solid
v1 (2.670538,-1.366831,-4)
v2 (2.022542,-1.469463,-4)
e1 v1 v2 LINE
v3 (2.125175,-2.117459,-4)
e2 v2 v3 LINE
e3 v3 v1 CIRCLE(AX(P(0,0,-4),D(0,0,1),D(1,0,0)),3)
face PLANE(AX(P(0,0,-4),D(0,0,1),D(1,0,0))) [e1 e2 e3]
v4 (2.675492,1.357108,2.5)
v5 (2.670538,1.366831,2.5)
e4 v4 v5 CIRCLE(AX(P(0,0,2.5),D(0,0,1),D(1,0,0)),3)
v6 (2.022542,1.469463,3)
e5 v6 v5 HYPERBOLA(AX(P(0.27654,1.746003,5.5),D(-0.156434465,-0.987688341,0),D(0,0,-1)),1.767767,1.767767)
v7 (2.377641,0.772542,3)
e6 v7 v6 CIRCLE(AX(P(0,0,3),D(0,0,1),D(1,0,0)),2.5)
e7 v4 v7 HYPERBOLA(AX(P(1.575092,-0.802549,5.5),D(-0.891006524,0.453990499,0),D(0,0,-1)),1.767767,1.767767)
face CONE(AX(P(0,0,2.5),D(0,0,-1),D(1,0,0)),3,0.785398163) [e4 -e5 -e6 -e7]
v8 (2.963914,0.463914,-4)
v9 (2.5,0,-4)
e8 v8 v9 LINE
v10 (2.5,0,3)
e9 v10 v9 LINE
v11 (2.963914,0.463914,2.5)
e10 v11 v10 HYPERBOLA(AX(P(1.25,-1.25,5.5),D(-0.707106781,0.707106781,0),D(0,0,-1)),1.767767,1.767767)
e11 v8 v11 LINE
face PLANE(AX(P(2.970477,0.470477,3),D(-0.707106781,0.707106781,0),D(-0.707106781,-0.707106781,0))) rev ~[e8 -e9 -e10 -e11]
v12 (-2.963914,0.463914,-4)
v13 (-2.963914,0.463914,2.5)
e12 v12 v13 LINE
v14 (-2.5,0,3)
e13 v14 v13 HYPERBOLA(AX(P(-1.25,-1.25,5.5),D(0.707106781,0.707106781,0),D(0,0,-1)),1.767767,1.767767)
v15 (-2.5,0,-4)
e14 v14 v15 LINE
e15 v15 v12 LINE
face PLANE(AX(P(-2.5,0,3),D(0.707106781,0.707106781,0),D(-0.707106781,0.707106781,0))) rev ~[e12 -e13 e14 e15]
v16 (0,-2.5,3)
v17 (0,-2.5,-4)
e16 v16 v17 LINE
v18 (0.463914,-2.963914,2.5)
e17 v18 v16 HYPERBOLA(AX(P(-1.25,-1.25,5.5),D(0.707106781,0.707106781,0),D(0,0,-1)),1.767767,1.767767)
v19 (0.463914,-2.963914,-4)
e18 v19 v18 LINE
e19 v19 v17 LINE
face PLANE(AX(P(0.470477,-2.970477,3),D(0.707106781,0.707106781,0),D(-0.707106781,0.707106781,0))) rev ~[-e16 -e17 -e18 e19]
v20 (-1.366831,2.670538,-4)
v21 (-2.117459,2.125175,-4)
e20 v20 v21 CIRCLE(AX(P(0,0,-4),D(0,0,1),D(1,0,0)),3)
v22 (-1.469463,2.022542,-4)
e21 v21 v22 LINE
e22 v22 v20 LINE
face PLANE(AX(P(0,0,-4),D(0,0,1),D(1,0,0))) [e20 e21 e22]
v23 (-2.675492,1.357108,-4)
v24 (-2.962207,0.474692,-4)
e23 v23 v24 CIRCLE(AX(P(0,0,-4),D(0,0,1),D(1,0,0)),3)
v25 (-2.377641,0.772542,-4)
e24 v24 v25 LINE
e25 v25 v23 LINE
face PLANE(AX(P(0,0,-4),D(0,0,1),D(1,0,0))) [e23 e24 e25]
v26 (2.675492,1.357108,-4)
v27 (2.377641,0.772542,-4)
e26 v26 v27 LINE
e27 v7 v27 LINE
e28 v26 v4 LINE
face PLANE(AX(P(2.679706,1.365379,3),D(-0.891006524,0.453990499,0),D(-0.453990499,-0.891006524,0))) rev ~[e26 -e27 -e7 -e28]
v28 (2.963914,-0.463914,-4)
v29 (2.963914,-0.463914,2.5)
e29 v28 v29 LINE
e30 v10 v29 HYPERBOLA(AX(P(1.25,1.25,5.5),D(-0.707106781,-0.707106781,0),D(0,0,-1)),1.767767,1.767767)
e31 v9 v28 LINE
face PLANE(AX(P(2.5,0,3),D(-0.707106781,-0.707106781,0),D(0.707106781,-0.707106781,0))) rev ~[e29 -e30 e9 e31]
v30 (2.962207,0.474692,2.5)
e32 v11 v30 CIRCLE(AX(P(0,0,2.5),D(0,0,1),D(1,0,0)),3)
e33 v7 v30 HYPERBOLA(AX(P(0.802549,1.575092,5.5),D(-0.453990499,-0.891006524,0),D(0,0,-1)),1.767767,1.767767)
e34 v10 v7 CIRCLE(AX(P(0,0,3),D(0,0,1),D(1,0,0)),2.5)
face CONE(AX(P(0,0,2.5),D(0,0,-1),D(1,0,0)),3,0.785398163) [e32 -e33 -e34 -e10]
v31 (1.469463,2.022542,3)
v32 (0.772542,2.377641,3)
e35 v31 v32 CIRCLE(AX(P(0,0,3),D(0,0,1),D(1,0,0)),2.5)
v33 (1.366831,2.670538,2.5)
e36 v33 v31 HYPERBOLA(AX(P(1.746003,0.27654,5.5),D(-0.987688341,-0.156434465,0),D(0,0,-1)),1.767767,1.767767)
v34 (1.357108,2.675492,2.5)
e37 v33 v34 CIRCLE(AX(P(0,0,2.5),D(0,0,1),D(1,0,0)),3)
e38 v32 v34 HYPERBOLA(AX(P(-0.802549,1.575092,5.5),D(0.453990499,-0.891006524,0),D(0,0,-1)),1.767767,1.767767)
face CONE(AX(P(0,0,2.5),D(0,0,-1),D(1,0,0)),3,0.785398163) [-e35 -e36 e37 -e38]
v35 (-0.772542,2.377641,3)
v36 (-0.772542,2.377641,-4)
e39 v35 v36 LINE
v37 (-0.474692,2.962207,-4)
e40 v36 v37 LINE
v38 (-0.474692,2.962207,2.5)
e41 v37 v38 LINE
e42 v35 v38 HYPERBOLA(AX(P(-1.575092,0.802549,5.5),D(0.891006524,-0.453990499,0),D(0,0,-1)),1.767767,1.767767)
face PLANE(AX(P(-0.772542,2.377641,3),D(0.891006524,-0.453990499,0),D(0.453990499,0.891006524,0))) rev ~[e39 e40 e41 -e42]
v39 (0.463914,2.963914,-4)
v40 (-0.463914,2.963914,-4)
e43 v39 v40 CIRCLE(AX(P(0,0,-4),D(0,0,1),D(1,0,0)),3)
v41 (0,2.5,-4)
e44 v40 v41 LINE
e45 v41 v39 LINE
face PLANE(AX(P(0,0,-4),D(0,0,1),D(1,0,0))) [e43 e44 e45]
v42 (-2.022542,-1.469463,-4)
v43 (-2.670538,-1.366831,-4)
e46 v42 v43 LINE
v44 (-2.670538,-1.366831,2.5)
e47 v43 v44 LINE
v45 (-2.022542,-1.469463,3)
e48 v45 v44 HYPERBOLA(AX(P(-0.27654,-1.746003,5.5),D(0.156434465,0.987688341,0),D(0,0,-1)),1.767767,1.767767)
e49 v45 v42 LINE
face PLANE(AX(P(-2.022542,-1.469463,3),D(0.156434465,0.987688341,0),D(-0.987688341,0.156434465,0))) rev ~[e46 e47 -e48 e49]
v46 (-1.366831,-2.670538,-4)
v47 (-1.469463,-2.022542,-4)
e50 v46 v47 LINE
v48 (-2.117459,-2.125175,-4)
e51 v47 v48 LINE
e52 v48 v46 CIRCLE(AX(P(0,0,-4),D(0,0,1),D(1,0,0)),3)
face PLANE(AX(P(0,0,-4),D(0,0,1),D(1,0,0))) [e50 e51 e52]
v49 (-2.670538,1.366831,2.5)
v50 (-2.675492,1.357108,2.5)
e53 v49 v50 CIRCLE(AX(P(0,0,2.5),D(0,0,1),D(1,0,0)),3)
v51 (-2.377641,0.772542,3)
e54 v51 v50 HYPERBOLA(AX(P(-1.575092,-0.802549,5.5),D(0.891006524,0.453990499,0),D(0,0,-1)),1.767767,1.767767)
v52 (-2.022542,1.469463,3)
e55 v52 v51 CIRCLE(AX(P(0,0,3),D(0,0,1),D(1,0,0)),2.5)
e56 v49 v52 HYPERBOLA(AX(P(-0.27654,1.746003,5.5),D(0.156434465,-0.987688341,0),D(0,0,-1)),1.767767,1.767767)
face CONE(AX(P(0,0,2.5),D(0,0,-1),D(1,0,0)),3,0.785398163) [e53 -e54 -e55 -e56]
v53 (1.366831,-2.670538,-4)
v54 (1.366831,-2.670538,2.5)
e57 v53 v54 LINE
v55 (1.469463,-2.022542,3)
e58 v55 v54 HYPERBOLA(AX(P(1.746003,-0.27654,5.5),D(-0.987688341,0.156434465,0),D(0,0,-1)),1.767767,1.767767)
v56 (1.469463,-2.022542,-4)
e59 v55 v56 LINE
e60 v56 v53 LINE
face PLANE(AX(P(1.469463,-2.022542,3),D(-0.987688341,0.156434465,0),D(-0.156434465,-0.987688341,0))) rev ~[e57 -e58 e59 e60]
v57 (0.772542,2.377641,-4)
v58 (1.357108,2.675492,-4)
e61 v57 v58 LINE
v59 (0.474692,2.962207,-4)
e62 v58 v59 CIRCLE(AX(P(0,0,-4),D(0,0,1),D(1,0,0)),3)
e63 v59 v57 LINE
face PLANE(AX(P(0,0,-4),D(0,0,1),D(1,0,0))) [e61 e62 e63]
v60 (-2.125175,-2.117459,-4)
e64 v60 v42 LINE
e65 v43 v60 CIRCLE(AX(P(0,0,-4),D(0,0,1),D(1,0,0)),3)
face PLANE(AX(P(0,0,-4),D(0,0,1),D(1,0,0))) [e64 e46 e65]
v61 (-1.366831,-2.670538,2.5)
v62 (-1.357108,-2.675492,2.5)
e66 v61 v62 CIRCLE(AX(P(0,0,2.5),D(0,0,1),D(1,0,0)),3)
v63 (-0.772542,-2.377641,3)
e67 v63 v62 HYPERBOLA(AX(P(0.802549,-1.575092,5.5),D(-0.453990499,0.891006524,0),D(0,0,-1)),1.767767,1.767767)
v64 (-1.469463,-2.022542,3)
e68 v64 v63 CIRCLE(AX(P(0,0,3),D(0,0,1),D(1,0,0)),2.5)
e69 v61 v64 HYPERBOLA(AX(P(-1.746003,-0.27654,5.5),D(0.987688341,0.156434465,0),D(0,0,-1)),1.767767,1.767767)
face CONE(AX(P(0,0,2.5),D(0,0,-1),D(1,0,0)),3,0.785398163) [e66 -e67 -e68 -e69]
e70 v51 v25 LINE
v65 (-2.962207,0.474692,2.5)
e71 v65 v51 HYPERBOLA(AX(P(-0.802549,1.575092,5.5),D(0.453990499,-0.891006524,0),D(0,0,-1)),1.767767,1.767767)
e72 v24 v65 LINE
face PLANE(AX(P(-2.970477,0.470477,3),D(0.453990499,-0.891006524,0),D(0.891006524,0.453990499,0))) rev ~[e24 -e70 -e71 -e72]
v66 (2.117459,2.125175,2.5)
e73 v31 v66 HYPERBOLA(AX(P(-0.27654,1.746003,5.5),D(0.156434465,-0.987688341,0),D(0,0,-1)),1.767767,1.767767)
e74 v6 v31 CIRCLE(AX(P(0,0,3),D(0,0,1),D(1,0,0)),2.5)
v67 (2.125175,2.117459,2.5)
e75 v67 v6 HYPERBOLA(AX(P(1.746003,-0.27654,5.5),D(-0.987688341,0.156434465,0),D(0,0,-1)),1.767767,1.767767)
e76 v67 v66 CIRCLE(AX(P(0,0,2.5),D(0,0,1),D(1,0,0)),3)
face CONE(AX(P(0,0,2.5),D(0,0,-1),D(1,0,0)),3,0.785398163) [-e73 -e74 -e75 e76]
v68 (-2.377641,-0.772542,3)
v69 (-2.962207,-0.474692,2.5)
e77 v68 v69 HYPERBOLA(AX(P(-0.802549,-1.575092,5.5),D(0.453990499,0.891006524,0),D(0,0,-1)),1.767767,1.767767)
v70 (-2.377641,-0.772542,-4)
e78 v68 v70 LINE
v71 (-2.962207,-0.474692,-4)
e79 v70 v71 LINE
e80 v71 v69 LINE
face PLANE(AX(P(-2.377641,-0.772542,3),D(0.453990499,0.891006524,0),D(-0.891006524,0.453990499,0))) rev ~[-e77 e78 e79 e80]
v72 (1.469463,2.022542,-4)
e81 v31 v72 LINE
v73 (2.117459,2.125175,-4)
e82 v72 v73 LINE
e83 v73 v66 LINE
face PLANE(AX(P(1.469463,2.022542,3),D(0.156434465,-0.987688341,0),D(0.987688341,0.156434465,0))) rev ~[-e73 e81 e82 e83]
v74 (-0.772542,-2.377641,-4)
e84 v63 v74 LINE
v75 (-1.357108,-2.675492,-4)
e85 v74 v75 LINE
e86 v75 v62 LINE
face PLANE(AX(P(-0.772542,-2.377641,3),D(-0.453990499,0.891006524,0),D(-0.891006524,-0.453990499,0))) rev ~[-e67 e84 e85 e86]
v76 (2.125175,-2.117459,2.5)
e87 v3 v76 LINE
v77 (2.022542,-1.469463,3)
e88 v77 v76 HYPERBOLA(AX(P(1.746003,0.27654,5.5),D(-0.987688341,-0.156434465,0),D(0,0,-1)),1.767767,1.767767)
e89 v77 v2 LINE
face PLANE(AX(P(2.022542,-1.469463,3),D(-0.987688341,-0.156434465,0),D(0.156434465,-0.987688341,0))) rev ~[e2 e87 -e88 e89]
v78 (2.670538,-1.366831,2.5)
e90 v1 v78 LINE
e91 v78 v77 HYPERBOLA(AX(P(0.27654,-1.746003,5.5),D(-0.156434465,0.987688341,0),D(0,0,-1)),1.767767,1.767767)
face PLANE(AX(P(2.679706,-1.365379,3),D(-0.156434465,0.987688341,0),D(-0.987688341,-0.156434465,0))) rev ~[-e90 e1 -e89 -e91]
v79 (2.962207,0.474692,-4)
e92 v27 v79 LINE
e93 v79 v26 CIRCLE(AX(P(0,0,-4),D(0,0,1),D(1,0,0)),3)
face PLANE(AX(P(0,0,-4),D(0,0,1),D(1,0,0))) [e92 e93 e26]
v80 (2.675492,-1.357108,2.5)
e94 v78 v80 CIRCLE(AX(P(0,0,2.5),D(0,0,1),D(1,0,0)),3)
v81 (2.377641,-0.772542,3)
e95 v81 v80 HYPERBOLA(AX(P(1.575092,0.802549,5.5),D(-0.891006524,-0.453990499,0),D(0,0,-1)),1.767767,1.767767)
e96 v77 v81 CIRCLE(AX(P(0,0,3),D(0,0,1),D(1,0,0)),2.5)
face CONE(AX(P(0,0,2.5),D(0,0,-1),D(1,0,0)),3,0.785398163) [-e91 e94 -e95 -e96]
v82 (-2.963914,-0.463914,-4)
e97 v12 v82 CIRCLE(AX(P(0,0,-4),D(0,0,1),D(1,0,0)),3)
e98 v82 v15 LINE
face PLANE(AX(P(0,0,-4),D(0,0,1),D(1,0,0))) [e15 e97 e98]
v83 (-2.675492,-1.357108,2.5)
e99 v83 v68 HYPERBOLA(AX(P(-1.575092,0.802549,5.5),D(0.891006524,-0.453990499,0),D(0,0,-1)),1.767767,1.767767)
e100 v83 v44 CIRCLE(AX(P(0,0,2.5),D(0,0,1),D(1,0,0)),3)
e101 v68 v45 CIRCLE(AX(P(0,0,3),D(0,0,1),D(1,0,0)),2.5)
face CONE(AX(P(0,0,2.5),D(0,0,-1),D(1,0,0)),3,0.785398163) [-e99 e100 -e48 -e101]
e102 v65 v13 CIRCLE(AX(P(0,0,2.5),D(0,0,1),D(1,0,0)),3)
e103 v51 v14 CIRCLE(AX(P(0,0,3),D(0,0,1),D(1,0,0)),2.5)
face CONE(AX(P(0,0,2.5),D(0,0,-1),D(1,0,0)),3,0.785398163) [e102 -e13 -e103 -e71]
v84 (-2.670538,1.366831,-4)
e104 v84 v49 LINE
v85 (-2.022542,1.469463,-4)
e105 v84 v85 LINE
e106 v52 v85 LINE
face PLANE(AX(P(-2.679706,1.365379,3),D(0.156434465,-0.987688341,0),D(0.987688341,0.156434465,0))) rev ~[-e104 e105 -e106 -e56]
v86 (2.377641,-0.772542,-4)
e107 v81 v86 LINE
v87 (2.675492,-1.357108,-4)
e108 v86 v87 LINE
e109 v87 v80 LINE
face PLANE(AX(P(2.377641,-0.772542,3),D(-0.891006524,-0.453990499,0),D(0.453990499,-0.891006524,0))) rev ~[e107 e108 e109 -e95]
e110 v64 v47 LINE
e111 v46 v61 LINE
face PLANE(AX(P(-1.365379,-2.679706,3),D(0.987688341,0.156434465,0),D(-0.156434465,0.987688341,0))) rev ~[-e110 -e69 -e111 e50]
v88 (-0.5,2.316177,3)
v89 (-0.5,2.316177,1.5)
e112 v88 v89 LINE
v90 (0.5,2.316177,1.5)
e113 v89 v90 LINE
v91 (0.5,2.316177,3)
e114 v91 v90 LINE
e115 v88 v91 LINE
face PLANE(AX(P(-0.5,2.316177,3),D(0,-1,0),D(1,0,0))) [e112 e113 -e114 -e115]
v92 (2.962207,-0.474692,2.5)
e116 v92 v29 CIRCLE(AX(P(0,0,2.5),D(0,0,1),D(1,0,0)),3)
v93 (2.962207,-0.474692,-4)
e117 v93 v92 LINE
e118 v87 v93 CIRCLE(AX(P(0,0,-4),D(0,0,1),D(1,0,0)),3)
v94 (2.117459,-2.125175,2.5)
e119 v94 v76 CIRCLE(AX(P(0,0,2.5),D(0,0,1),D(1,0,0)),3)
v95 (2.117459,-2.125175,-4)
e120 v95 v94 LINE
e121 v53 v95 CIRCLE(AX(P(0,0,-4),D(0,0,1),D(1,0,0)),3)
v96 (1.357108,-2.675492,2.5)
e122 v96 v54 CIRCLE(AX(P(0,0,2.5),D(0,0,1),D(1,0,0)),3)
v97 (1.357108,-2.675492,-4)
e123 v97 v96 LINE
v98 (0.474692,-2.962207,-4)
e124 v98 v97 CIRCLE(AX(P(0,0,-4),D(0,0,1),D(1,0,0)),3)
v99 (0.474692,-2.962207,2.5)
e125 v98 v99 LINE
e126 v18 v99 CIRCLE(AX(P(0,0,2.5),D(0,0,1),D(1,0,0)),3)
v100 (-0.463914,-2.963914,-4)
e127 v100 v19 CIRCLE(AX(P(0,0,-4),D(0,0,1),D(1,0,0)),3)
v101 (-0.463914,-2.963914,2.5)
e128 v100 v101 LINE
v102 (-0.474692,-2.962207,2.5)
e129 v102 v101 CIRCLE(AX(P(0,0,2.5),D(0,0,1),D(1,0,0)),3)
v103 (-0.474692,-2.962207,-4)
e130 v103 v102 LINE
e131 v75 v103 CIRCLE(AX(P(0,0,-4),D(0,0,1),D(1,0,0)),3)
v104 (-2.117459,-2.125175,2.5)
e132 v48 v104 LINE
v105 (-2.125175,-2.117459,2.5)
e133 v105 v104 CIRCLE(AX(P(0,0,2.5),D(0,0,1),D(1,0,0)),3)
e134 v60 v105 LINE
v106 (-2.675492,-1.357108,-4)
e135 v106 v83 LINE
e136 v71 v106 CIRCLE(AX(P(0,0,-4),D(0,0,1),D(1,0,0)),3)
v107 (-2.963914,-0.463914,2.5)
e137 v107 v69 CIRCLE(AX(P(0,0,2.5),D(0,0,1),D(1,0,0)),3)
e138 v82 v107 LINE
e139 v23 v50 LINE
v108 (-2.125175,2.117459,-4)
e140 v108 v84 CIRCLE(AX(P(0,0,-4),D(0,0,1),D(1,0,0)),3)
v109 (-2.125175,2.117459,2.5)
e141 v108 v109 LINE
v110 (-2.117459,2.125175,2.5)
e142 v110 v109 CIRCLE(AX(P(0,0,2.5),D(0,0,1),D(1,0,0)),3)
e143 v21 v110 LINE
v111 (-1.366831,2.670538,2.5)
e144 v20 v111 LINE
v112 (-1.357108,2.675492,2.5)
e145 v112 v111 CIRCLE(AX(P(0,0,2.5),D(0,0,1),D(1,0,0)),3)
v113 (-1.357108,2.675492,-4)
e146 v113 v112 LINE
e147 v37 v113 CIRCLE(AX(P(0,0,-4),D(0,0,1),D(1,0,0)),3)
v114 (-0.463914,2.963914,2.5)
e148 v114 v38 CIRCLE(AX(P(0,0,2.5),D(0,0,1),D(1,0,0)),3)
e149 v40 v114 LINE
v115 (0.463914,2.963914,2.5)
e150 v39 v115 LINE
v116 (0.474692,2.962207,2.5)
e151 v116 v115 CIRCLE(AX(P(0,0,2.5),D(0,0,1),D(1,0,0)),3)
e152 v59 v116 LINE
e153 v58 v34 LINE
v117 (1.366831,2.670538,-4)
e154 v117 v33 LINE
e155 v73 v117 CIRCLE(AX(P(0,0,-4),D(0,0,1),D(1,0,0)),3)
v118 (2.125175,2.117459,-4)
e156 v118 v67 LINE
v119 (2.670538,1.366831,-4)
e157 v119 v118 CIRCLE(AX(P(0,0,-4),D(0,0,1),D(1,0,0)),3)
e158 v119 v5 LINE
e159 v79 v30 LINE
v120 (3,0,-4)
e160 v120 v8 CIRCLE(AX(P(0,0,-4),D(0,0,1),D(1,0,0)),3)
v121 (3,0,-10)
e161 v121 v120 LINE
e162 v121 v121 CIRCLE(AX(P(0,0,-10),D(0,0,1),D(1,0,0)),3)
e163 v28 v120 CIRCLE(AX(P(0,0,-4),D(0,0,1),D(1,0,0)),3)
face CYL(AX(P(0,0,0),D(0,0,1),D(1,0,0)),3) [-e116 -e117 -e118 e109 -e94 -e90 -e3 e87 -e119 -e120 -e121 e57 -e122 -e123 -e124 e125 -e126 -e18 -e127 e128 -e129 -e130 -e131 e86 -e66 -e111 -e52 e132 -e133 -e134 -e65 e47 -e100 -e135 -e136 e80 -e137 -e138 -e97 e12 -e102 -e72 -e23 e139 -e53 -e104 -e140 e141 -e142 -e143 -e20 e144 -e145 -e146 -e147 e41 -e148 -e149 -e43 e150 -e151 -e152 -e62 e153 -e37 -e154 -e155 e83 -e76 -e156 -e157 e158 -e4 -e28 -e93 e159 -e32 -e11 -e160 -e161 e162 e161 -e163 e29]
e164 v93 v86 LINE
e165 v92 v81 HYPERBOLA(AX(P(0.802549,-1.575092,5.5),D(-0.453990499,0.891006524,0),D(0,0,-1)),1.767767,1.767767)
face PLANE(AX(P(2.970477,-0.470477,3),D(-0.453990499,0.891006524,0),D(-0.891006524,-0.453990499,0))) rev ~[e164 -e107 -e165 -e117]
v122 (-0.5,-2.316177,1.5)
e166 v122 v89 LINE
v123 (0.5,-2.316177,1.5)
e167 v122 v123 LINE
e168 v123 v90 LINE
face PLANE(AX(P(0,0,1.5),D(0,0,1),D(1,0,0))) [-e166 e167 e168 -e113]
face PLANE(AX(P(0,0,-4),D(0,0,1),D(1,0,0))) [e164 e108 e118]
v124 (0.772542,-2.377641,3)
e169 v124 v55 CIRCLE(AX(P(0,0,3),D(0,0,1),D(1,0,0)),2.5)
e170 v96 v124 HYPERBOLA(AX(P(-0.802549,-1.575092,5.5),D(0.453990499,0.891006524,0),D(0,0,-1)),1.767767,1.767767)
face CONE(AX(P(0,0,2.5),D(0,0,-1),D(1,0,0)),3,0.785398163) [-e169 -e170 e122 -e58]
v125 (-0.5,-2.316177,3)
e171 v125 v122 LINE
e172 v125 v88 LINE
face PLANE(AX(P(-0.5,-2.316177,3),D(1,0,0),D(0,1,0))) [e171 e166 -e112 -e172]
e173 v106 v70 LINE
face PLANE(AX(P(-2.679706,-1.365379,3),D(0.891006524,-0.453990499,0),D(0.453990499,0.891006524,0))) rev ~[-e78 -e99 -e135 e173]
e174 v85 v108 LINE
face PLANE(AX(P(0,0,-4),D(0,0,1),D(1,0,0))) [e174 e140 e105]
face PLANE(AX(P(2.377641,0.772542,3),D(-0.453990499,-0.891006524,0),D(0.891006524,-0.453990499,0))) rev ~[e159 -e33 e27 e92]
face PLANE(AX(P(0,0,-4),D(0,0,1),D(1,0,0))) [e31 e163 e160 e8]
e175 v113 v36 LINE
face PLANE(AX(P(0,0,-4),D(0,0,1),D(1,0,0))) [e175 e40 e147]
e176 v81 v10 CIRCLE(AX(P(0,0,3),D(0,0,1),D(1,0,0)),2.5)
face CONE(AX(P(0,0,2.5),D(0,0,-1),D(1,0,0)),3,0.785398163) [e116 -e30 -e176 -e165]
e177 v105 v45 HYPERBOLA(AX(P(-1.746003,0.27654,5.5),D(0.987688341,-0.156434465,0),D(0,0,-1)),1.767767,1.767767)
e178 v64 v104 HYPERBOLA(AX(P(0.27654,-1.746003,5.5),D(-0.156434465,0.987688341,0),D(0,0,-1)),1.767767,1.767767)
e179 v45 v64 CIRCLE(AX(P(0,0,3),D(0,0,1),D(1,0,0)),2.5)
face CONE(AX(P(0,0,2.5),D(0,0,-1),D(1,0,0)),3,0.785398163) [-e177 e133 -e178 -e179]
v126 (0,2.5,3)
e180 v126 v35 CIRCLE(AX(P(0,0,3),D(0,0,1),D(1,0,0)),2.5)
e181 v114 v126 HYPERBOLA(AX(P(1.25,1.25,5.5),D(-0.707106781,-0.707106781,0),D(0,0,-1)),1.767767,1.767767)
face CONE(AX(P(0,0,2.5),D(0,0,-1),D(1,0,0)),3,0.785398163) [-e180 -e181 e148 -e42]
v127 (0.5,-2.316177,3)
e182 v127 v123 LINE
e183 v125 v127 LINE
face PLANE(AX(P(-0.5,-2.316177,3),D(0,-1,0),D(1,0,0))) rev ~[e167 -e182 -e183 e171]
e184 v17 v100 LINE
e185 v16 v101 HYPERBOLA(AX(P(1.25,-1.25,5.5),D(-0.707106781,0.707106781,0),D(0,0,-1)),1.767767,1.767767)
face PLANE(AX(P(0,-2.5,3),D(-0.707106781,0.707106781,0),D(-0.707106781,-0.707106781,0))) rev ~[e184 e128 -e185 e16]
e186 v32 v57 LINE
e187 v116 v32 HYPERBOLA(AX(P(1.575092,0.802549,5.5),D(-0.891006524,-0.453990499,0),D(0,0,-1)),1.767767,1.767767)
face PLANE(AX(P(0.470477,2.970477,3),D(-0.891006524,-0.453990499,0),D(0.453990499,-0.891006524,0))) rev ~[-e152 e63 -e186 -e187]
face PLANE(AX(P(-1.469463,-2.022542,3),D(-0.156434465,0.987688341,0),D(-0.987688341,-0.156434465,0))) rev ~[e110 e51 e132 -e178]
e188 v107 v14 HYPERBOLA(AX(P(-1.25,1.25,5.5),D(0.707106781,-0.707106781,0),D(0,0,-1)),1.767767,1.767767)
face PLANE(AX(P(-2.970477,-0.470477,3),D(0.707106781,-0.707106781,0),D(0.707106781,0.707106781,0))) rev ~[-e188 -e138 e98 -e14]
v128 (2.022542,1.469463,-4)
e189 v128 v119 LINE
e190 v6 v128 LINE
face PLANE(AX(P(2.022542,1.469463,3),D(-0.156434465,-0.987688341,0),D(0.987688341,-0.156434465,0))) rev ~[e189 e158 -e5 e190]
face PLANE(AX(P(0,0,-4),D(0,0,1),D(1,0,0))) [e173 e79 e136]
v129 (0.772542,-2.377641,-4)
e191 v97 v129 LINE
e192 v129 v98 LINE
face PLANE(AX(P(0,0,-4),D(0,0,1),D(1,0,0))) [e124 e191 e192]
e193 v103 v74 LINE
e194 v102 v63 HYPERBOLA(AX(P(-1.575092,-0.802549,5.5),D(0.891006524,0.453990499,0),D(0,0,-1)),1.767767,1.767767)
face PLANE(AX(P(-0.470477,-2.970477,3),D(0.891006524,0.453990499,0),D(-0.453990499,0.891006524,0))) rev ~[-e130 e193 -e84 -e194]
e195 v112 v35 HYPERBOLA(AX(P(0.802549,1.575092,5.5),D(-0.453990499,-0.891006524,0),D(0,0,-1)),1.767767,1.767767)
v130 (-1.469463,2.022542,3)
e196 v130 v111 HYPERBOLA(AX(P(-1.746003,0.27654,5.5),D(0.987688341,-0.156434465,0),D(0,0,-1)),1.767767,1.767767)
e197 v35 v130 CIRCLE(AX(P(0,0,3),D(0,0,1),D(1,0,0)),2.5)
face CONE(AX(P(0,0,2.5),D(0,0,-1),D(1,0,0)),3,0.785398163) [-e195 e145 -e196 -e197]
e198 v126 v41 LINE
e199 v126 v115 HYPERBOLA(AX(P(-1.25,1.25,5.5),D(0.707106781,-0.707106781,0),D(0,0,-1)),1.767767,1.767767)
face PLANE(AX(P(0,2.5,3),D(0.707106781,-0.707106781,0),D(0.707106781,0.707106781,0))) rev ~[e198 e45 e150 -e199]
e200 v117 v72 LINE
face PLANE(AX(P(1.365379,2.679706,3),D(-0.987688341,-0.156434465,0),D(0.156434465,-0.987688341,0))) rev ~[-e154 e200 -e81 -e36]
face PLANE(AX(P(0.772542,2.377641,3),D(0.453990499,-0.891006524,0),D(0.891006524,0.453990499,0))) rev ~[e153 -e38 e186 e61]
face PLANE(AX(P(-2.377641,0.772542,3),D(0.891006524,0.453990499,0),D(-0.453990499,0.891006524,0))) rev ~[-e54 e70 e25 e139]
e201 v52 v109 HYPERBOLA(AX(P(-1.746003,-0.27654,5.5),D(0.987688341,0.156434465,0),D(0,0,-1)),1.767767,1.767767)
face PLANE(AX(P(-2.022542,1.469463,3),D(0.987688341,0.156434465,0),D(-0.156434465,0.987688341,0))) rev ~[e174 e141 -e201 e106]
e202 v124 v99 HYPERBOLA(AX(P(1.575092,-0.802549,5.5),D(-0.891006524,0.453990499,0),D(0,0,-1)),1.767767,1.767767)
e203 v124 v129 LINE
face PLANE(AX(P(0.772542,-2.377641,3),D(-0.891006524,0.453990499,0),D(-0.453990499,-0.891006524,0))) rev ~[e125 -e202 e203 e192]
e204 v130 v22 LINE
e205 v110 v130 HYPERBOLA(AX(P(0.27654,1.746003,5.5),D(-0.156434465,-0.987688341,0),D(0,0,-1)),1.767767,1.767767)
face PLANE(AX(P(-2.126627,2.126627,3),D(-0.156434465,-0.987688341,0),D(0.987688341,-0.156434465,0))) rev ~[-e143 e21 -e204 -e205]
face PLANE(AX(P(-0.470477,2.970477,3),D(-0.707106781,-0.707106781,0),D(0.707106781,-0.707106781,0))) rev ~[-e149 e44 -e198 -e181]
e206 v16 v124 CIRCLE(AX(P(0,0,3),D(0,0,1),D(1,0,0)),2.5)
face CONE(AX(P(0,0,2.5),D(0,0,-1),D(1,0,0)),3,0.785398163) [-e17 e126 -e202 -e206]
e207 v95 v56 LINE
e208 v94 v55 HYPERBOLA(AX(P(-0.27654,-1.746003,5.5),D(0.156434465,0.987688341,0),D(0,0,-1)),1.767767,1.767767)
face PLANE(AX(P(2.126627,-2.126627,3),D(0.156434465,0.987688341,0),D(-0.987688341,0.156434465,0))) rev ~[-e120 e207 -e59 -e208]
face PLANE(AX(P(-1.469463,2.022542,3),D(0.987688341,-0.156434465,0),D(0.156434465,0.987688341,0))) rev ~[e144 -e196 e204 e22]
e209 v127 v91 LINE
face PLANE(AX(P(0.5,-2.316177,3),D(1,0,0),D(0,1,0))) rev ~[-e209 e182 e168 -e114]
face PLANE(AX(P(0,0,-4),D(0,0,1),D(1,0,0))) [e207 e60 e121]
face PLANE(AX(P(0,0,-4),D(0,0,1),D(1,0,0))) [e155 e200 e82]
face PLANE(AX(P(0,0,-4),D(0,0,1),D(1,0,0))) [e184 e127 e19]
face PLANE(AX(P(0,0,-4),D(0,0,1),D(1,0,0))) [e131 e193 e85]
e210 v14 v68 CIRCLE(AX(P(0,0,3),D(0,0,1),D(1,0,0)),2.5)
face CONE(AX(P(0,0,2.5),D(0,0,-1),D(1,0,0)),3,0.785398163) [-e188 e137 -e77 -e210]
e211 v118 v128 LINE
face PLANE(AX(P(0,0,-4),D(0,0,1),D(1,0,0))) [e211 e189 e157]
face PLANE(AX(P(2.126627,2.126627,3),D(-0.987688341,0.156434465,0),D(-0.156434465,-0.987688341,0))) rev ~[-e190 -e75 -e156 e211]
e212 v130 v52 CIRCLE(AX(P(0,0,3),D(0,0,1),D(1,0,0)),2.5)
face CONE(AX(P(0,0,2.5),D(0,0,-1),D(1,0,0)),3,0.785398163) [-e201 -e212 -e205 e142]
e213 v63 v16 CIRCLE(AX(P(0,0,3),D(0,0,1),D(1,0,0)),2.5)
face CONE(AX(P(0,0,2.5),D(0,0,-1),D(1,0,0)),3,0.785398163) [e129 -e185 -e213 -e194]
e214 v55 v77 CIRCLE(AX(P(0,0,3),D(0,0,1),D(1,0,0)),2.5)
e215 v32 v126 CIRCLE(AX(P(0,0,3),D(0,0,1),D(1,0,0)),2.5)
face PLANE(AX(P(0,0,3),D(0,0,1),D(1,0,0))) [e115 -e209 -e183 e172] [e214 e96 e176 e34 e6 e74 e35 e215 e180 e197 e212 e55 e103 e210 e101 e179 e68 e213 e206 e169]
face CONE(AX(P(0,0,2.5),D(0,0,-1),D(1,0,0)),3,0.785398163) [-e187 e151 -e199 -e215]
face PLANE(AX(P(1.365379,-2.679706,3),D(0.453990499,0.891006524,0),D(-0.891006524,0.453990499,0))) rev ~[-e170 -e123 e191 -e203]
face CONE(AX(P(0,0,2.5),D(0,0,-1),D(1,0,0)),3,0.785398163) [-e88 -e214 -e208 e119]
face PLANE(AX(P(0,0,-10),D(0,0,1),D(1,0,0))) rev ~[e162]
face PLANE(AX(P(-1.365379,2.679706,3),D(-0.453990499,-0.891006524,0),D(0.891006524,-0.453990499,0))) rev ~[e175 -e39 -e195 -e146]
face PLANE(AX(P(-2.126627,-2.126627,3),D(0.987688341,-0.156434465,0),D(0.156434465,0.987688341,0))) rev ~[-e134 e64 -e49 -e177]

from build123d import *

# Parameters (mm, degrees)
ESQUISSE1_R             = 3
BOSS_EXTRU_1_DEPTH      = 3
BOSS_EXTRU_1_DEPTH_BACK = 10
ESQUISSE3_W             = 1
ESQUISSE3_H             = 4.632353026
ENL_V_MAT_EXTRU_2_DEPTH = 1.5
CHANFREIN1_SIZE         = 0.5
ESQUISSE4_R             = 3.441948867
ENL_V_MAT_EXTRU_3_DEPTH = 7


with BuildPart() as part:
    # Esquisse1 → Boss.-Extru.1 (new body, two sides)
    with BuildSketch(Plane.XY) as boss_extru_1_sk:
        Circle(ESQUISSE1_R)
    extrude(amount=BOSS_EXTRU_1_DEPTH)
    extrude(boss_extru_1_sk.sketch, amount=-BOSS_EXTRU_1_DEPTH_BACK)

    # Esquisse3 → Enlèv. mat.-Extru.2 (cut)
    with BuildSketch(Plane.XY.offset(3)):
        Rectangle(ESQUISSE3_W, ESQUISSE3_H)
    extrude(amount=-ENL_V_MAT_EXTRU_2_DEPTH, mode=Mode.SUBTRACT)

    # Chanfrein1
    chanfrein1_edges = [part.edges().sort_by_distance(p)[0] for p in [
        (-3, 0, 3),
    ]]
    chamfer(chanfrein1_edges, length=CHANFREIN1_SIZE)

    # Esquisse4 → Enlèv. mat.-Extru.3 (cut)
    with BuildSketch(Plane.XY.offset(3)):
        Circle(ESQUISSE4_R)
        Polygon((-2.970477401, -0.470477401), (-2.5, 0), (-2.970477401, 0.470477401), (-2.377641291, 0.772542486), (-2.679706376, 1.365378596), (-2.022542486, 1.469463131), (-2.126627021, 2.126627021), (-1.469463131, 2.022542486), (-1.365378596, 2.679706376), (-0.772542486, 2.377641291), (-0.470477401, 2.970477401), (0, 2.5), (0.470477401, 2.970477401), (0.772542486, 2.377641291), (1.365378596, 2.679706376), (1.469463131, 2.022542486), (2.126627021, 2.126627021), (2.022542486, 1.469463131), (2.679706376, 1.365378596), (2.377641291, 0.772542486), (2.970477401, 0.470477401), (2.5, 0), (2.970477401, -0.470477401), (2.377641291, -0.772542486), (2.679706376, -1.365378596), (2.022542486, -1.469463131), (2.126627021, -2.126627021), (1.469463131, -2.022542486), (1.365378596, -2.679706376), (0.772542486, -2.377641291), (0.470477401, -2.970477401), (0, -2.5), (-0.470477401, -2.970477401), (-0.772542486, -2.377641291), (-1.365378596, -2.679706376), (-1.469463131, -2.022542486), (-2.126627021, -2.126627021), (-2.022542486, -1.469463131), (-2.679706376, -1.365378596), (-2.377641291, -0.772542486), align=None, mode=Mode.SUBTRACT)
    extrude(amount=-ENL_V_MAT_EXTRU_3_DEPTH, mode=Mode.SUBTRACT)


solid = part.part
